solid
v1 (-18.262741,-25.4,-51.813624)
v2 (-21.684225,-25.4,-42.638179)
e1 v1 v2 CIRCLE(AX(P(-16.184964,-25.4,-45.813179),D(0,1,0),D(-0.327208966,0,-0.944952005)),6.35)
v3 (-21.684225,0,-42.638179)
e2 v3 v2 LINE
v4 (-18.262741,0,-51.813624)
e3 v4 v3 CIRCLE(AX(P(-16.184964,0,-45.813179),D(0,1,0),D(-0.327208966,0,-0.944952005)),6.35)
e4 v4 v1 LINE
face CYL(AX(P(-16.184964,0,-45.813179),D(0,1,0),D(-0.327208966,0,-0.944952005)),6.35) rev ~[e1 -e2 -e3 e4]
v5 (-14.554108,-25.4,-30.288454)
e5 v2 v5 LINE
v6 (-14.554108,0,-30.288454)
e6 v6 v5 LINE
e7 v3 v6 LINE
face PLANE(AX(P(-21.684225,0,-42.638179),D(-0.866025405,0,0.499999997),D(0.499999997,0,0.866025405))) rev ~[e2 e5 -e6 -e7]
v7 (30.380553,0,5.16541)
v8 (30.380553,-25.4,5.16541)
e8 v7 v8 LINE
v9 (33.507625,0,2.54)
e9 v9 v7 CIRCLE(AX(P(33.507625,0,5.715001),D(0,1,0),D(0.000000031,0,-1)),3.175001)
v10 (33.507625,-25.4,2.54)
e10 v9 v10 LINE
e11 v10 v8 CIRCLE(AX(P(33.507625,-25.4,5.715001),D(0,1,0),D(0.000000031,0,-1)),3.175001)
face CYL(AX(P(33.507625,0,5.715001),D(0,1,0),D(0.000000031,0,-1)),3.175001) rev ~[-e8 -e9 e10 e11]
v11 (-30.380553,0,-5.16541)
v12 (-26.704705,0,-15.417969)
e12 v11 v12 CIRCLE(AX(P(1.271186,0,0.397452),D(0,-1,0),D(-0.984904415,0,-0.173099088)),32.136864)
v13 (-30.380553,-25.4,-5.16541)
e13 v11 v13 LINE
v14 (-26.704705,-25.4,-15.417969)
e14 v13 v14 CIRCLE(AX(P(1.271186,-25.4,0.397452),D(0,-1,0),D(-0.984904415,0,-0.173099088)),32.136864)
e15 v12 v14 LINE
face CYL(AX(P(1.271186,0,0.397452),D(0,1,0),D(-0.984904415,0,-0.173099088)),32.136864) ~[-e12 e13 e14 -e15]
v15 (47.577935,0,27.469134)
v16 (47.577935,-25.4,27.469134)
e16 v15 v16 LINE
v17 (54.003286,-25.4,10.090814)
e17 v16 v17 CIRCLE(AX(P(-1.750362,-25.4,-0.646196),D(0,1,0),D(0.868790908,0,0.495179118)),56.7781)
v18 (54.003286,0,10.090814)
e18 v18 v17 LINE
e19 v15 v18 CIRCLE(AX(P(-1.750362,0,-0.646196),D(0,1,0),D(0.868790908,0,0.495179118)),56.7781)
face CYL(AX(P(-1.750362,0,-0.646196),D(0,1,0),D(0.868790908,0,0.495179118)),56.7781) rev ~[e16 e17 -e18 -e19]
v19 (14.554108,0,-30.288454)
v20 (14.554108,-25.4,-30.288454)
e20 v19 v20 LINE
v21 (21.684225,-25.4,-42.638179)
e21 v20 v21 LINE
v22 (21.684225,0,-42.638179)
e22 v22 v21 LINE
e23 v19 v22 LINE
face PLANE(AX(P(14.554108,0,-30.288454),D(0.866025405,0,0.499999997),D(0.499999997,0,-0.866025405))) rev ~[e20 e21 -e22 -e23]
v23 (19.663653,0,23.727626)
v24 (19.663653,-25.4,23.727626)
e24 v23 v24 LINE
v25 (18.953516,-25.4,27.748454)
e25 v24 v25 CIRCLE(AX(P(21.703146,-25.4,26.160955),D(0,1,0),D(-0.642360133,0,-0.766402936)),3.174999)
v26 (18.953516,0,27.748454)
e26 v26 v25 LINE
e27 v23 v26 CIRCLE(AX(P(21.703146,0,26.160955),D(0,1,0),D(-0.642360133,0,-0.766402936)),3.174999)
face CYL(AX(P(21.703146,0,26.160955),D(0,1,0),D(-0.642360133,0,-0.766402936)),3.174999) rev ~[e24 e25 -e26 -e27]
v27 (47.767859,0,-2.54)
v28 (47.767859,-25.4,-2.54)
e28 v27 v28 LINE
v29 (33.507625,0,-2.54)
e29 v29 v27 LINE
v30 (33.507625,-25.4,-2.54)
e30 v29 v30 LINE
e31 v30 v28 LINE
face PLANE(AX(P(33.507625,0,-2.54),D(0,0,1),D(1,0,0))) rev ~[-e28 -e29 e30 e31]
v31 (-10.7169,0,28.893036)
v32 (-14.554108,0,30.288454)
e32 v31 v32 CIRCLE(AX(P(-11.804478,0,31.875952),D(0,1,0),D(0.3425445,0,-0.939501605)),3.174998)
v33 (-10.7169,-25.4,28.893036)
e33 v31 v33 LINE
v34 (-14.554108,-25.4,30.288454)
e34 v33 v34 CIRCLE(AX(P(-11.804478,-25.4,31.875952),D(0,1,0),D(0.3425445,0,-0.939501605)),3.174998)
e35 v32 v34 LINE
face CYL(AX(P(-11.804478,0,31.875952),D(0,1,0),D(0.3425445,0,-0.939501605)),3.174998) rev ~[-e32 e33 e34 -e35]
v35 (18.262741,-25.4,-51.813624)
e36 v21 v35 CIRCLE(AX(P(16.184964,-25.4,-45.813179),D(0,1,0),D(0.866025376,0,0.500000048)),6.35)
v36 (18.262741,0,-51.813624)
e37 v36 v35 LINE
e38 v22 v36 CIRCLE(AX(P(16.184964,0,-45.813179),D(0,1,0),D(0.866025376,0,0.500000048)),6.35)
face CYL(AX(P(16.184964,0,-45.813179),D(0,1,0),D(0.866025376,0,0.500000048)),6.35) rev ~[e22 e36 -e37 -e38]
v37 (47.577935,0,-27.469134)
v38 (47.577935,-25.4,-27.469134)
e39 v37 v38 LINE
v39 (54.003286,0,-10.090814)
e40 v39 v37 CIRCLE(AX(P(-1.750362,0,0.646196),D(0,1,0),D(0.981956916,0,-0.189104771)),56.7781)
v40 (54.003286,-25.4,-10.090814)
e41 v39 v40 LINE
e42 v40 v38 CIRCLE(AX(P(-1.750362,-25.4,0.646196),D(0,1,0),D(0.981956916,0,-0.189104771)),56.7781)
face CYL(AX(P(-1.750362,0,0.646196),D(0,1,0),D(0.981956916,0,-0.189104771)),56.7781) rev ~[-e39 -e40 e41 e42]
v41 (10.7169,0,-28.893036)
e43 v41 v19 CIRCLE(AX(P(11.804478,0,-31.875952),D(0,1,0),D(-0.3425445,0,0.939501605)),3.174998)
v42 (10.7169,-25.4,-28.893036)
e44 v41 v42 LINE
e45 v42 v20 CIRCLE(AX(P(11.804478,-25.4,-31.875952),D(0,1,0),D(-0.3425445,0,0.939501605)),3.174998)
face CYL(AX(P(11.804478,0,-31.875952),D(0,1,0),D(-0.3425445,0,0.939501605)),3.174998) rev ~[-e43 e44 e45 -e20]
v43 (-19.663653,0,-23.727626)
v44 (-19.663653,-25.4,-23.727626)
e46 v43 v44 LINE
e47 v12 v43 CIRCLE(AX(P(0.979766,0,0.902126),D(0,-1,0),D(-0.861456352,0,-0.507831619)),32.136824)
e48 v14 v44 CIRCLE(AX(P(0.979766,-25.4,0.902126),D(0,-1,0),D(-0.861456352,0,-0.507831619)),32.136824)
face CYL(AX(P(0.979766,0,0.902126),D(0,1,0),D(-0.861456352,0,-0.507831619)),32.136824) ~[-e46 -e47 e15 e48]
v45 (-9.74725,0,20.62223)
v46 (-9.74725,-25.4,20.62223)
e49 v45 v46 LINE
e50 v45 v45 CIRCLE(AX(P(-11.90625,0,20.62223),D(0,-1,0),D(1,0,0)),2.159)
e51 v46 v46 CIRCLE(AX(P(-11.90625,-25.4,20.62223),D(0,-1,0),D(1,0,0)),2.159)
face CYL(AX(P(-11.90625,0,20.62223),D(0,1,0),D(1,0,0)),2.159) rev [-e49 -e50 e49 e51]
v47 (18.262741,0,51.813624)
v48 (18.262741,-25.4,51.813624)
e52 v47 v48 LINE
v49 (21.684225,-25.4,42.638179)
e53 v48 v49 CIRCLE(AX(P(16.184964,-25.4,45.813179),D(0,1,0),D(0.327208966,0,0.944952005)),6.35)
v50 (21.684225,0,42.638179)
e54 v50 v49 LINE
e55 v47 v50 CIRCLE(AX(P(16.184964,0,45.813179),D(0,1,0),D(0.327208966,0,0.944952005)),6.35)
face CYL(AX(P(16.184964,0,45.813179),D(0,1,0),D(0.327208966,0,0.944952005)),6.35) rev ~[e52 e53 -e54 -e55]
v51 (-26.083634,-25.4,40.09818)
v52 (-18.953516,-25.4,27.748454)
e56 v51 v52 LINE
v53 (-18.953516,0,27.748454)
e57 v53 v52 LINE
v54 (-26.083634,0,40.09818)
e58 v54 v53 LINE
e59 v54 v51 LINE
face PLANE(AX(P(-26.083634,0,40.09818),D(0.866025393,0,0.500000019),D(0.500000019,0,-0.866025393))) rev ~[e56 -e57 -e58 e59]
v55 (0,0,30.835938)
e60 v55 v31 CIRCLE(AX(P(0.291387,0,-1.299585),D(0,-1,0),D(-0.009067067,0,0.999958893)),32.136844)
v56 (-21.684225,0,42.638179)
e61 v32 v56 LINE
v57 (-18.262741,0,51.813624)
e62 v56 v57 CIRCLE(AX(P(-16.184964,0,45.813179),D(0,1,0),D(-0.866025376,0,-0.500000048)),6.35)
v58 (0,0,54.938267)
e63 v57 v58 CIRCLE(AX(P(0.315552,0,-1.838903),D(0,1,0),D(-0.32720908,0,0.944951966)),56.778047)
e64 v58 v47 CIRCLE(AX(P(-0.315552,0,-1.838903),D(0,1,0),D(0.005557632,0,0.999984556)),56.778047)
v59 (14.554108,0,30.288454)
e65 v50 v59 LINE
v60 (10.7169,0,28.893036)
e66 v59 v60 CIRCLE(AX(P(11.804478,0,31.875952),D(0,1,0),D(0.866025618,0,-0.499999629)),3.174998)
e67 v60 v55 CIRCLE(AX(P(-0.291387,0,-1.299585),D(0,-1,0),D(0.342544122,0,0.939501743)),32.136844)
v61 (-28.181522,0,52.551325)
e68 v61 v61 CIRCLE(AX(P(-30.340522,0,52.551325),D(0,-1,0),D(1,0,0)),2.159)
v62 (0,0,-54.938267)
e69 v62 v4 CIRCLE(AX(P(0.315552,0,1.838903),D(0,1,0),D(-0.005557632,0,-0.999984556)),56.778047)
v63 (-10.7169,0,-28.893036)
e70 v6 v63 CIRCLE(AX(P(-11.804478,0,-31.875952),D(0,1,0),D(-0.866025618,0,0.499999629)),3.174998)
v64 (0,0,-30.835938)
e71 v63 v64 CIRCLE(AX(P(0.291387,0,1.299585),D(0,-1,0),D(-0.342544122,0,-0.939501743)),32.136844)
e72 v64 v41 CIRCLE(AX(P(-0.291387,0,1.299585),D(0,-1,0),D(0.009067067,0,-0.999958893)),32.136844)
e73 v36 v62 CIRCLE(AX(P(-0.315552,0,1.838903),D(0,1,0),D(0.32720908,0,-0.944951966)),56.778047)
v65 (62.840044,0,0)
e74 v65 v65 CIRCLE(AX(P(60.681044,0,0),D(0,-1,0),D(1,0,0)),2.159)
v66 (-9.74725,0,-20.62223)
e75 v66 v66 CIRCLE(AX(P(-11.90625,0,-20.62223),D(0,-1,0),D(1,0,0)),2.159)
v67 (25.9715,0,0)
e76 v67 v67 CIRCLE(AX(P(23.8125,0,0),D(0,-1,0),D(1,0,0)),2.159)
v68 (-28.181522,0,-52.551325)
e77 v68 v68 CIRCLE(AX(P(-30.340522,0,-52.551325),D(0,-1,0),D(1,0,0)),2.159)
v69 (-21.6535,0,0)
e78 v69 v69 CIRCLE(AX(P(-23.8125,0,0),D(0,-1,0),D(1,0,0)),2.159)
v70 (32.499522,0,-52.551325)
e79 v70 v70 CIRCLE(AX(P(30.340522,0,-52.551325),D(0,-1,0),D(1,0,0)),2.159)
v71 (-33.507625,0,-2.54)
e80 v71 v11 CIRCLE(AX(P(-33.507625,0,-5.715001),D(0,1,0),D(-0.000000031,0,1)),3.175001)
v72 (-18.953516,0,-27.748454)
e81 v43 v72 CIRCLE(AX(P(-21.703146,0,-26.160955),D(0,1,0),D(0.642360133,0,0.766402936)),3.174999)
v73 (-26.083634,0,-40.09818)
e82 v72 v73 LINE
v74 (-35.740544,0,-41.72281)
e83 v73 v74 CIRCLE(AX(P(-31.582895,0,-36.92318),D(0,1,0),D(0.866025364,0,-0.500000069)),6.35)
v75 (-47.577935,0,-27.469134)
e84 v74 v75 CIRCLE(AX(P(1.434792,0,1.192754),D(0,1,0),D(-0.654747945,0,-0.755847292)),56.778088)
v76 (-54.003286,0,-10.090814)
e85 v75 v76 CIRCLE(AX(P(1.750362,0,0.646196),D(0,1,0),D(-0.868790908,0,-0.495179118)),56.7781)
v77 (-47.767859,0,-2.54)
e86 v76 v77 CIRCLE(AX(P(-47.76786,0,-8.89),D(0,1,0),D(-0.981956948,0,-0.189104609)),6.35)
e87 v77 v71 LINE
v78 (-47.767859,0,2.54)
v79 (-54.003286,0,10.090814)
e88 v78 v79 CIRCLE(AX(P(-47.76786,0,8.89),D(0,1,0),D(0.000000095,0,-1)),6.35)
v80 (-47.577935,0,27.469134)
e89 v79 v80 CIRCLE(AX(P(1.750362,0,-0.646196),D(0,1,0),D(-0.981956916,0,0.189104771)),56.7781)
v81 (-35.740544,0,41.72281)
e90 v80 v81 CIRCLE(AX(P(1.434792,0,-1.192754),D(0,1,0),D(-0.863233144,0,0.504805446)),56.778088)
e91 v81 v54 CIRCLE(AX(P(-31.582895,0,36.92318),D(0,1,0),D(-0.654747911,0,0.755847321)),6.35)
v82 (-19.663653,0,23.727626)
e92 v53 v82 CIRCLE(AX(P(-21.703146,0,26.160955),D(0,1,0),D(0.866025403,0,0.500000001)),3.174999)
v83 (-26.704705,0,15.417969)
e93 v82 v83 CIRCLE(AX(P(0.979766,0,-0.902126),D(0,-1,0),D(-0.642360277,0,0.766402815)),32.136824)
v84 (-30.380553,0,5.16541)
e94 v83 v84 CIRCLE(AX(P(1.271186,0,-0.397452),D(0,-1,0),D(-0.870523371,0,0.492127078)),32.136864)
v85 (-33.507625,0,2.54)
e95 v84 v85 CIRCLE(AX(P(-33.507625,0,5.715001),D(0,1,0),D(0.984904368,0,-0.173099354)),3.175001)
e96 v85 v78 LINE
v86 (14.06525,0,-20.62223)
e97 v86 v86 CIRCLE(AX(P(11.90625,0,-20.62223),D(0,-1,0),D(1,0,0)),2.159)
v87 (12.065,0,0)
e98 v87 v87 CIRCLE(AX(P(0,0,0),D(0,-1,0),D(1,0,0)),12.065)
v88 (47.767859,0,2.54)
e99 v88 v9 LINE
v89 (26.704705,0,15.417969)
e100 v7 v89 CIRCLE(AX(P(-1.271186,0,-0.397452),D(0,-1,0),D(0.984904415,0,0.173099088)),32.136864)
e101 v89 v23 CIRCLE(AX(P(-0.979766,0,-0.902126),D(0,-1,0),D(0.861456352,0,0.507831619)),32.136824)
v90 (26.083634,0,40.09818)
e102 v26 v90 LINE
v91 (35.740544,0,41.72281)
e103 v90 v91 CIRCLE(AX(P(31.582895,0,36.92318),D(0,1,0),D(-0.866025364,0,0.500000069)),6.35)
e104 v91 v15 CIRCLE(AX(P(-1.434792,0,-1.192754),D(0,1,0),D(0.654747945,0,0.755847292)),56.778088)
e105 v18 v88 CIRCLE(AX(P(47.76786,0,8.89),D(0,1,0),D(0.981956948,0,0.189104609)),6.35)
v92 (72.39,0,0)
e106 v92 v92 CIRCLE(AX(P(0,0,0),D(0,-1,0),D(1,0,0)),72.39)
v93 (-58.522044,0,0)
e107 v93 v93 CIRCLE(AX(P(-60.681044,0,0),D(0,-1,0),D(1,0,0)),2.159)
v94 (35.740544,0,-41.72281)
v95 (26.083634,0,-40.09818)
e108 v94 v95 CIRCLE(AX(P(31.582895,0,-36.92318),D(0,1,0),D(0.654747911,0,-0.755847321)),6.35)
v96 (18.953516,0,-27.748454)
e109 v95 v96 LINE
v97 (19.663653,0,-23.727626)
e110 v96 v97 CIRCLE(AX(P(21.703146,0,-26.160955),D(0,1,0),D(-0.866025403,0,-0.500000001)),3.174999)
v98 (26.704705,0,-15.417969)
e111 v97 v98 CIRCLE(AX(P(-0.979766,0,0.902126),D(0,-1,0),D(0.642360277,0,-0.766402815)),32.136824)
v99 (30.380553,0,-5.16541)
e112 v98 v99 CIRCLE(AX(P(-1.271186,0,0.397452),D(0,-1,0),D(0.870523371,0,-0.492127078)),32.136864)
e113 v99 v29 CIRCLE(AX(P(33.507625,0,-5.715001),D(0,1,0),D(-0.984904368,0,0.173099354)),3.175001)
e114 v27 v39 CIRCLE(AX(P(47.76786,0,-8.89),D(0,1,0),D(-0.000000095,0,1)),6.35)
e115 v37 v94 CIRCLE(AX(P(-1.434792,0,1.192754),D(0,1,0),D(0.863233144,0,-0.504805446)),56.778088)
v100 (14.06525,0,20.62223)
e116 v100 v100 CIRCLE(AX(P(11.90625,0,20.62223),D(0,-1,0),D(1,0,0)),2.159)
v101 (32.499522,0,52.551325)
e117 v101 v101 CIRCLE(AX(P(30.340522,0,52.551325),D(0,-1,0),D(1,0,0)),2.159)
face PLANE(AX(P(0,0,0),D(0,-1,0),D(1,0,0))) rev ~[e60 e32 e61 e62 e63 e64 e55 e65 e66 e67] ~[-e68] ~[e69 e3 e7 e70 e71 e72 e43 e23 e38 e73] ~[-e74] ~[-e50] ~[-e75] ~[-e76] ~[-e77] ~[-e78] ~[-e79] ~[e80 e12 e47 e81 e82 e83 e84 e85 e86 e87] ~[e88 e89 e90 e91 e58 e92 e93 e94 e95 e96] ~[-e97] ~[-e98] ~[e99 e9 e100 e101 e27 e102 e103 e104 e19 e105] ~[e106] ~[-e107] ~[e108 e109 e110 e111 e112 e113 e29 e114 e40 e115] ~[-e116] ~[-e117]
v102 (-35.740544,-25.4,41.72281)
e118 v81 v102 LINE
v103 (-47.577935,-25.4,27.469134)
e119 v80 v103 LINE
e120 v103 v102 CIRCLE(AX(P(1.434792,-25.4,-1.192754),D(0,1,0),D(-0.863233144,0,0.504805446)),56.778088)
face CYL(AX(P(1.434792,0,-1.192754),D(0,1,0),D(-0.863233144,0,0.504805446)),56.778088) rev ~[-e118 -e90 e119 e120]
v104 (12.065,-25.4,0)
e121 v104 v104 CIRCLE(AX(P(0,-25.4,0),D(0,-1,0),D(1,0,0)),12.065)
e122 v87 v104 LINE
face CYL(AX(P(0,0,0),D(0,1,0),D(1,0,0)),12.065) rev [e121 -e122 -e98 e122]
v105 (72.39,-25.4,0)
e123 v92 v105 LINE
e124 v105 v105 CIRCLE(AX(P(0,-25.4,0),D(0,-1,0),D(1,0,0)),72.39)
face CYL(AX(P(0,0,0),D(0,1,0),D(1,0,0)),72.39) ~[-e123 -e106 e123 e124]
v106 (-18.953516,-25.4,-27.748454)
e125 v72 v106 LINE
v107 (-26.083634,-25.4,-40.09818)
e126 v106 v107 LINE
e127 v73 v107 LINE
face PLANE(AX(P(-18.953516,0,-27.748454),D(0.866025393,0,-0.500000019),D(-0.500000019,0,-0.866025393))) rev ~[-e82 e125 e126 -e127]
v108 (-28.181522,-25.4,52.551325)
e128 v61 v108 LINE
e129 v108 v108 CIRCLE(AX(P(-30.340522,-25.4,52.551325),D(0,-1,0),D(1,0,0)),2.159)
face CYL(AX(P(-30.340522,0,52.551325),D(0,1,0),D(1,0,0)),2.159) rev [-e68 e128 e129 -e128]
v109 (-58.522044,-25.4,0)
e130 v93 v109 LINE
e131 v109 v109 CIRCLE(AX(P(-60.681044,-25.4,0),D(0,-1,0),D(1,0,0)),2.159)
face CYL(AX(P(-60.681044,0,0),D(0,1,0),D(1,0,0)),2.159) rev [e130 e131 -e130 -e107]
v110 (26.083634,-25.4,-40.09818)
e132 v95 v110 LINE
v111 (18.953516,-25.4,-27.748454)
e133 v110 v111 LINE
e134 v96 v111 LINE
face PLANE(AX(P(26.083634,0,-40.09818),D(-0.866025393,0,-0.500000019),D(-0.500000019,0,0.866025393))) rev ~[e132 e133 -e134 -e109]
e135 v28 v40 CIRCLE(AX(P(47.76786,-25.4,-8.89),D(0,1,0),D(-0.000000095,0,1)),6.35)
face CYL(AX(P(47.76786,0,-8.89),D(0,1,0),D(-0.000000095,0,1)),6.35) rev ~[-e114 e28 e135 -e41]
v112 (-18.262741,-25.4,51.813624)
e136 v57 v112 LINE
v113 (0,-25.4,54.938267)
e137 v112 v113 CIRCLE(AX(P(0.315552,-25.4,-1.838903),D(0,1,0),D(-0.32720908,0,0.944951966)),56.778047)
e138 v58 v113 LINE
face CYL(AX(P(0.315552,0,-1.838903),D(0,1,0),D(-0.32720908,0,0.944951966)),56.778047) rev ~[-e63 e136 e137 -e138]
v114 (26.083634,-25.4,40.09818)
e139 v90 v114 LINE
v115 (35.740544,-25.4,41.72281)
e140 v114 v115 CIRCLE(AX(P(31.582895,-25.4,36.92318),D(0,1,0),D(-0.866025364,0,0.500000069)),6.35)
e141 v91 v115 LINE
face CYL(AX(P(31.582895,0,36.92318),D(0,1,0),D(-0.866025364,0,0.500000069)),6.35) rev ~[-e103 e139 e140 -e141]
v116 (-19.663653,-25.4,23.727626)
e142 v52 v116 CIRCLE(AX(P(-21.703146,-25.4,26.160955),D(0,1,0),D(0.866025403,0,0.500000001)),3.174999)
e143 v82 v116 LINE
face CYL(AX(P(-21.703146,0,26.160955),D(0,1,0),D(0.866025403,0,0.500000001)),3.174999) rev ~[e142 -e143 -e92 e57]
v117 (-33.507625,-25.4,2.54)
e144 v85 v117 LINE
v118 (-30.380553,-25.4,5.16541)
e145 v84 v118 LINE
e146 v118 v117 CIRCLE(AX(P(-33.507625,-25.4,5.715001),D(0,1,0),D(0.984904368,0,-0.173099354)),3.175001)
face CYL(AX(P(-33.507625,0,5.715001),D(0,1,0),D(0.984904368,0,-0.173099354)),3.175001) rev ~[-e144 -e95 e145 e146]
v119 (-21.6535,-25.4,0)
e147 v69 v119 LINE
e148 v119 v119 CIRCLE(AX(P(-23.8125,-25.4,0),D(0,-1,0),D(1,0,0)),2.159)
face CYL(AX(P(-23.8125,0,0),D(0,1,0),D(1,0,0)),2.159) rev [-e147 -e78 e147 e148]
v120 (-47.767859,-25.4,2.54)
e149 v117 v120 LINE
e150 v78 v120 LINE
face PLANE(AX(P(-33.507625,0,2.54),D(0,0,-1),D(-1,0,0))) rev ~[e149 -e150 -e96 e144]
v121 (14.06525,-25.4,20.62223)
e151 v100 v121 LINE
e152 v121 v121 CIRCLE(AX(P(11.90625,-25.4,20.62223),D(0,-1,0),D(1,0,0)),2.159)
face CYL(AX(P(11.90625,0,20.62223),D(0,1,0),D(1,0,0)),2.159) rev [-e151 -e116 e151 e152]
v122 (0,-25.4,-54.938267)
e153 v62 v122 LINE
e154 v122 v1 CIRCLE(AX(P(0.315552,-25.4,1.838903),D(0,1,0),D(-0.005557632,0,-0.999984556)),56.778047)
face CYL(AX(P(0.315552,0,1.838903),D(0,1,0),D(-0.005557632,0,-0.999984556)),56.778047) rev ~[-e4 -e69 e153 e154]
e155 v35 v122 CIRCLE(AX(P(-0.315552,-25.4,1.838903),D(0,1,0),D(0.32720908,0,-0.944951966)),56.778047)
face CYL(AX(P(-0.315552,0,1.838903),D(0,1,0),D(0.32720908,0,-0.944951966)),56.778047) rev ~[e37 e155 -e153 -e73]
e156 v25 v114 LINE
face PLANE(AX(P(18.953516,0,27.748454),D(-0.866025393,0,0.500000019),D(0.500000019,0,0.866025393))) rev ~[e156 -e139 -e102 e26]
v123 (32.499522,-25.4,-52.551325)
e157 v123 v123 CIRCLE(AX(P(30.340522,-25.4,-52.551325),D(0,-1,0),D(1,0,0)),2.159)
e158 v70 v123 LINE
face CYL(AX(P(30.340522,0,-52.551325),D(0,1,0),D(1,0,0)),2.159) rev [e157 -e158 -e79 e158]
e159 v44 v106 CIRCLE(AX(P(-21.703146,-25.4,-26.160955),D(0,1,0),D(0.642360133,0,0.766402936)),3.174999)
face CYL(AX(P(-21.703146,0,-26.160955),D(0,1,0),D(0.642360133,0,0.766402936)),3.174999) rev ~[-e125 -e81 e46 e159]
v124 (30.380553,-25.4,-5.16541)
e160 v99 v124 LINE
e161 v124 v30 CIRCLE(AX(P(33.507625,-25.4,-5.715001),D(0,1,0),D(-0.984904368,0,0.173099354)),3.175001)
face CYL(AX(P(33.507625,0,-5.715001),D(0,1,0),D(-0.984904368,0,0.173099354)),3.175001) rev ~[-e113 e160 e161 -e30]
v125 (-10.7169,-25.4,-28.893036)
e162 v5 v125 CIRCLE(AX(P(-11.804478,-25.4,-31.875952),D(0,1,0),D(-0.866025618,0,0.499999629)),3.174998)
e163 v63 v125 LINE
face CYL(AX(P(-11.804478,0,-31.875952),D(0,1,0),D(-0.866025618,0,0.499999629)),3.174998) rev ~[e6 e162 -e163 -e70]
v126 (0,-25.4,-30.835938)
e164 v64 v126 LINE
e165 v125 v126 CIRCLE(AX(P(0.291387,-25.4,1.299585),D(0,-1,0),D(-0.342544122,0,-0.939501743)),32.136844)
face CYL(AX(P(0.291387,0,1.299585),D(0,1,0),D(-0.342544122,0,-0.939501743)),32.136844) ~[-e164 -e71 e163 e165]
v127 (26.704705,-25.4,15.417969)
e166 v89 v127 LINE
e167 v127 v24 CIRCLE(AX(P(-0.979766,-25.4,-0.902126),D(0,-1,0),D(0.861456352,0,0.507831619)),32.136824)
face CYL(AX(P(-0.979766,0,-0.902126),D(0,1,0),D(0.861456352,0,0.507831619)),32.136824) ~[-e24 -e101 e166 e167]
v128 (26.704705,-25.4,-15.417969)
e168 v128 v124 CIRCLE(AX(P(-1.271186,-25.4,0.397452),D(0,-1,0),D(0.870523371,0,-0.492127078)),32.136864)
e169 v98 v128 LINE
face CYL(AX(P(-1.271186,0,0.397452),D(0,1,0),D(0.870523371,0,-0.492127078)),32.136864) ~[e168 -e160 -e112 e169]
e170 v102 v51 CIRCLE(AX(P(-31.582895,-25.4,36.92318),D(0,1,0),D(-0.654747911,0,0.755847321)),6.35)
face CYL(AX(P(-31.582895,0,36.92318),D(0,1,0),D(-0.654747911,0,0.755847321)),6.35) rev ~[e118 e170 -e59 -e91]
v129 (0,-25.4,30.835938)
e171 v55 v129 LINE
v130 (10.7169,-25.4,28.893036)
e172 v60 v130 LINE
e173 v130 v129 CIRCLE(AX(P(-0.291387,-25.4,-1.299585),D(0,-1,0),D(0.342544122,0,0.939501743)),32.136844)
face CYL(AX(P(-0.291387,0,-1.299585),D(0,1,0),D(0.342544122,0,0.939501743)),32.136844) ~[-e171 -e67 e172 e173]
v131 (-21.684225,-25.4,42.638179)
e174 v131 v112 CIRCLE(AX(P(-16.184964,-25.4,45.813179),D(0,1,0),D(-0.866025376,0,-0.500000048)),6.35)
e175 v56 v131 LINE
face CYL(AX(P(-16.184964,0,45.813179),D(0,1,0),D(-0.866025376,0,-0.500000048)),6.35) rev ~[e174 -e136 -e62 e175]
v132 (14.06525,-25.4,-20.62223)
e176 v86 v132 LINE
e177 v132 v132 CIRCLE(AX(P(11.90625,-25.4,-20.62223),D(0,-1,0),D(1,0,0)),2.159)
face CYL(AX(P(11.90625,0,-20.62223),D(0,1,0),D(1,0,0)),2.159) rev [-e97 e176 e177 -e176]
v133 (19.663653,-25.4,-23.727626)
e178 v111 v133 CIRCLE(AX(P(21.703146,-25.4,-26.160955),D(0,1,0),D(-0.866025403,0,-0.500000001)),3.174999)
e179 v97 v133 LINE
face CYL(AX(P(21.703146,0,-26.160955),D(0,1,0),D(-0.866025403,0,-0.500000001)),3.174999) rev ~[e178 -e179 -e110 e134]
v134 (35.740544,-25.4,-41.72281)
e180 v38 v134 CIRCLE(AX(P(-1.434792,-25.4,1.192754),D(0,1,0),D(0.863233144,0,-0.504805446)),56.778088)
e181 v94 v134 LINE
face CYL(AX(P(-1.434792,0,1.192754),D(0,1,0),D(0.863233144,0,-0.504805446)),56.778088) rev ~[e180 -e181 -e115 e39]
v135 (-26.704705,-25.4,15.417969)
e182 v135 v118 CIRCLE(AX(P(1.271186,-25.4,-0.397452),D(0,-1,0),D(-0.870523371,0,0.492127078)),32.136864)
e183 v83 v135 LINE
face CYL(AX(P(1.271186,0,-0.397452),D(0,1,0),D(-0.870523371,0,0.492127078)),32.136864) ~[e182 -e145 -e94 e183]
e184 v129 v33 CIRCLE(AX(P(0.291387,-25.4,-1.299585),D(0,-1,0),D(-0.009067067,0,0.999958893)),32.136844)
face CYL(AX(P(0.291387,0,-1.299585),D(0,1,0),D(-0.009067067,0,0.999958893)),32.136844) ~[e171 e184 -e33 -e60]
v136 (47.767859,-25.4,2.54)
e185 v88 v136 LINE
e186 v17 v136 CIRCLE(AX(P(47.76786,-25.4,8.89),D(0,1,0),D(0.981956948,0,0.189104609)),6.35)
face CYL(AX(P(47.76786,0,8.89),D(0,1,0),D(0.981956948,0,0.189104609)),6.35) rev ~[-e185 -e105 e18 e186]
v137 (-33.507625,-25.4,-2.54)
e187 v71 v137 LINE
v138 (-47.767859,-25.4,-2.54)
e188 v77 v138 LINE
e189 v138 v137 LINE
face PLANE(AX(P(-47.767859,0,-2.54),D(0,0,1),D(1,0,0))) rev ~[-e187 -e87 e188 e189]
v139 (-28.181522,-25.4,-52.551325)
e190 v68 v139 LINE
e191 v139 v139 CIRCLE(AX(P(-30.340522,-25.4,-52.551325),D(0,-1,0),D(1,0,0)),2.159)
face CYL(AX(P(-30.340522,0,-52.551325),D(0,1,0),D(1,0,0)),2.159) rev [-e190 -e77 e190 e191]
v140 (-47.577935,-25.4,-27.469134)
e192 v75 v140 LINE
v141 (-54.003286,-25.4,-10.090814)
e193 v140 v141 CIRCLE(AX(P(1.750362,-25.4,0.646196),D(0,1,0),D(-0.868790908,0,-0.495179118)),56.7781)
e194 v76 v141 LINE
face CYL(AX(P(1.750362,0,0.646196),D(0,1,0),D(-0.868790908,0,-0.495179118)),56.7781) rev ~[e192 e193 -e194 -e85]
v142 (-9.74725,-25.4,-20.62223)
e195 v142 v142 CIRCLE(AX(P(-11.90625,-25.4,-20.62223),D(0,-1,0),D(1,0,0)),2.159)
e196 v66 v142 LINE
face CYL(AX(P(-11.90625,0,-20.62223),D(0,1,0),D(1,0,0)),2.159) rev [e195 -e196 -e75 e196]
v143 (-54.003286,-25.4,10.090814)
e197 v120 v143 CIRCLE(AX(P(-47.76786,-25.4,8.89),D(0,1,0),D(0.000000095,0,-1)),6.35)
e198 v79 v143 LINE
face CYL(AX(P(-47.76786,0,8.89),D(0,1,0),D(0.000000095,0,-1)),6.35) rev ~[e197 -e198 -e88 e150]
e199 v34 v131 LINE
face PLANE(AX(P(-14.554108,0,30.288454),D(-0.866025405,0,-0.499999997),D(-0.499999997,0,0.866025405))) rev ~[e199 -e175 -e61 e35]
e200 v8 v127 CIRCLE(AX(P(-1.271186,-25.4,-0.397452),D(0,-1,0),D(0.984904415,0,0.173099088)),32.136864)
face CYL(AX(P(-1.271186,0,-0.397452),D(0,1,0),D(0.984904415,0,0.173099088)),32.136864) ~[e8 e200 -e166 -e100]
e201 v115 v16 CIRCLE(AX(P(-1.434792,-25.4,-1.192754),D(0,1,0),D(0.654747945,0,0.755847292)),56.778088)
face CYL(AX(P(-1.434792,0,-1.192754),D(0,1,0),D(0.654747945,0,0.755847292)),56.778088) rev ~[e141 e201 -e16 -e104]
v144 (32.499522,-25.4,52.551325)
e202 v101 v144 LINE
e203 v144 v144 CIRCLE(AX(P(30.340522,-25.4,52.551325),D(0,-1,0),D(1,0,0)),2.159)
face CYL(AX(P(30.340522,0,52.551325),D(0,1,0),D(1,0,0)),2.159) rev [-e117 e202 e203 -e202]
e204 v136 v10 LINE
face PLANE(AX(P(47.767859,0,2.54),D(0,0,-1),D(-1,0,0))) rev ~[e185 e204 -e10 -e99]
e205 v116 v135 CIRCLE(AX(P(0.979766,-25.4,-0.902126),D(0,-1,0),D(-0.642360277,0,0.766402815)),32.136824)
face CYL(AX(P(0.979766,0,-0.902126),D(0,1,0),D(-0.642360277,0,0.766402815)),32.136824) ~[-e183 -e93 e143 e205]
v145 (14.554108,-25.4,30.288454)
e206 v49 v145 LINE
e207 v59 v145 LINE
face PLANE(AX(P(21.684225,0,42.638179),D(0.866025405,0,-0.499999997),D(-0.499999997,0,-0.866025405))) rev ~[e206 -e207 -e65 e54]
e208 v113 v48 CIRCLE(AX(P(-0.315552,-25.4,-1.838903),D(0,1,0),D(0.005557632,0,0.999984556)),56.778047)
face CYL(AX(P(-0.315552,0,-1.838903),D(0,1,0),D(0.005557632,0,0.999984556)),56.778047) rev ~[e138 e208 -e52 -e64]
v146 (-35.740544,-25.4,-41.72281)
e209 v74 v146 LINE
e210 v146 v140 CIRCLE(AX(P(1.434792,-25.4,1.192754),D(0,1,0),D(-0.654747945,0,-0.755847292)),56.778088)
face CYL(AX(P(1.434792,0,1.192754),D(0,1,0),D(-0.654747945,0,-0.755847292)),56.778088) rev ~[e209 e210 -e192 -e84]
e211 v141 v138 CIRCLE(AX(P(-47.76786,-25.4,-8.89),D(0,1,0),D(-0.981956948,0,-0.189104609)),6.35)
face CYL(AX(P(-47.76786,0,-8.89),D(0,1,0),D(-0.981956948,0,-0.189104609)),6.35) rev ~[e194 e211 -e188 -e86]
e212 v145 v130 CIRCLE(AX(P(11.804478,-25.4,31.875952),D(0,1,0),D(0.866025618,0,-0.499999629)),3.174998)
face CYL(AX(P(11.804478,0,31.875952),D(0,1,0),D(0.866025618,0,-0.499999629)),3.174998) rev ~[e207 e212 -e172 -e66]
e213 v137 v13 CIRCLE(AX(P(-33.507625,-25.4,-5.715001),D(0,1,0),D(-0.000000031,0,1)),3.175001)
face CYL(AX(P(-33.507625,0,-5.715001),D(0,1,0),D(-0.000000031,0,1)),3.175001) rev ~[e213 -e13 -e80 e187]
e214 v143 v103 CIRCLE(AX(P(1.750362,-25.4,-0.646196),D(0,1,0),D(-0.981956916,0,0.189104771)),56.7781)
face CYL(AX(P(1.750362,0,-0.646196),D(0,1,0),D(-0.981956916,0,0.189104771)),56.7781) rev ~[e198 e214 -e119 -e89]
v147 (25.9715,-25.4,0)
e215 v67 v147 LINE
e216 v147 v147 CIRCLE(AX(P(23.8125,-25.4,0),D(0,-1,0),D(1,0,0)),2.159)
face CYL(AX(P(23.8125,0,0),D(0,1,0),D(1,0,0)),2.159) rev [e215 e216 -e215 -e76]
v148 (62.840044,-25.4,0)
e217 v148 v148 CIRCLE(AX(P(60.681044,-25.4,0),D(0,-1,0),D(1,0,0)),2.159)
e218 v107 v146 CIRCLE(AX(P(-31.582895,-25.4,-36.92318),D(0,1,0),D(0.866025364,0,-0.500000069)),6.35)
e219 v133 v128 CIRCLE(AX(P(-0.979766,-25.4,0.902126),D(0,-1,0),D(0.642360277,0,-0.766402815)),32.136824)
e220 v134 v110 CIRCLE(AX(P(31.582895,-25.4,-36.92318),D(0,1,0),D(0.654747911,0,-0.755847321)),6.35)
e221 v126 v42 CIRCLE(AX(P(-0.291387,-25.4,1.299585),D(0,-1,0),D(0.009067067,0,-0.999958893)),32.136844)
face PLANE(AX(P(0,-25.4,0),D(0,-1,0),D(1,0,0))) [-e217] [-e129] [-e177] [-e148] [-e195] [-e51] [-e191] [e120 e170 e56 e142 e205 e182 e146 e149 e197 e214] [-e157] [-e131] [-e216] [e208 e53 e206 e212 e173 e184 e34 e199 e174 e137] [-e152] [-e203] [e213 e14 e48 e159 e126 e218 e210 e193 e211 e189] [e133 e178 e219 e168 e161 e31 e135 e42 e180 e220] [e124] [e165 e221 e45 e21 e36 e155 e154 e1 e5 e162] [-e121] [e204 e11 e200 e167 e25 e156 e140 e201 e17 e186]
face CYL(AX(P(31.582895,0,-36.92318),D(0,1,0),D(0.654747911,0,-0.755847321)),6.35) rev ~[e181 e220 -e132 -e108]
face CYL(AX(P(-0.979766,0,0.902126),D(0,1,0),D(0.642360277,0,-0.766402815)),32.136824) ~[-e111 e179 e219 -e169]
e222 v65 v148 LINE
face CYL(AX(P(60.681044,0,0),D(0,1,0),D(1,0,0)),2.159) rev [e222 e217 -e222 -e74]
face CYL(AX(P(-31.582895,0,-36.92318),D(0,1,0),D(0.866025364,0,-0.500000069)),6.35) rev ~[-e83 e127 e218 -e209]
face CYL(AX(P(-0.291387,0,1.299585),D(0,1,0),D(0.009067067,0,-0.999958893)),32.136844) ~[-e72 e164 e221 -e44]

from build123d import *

# Parameters (mm, degrees)
F0_R     = 72.39
F0_R_2   = 2.159
F0_R_3   = 12.065
F1_DEPTH = 25.4


with BuildPart() as f1:
    # F0 (on Front) → F1 (new body)
    with BuildSketch(Plane.XZ):
        Circle(F0_R)
        with Locations((-30.340522, -52.551325)):
            Circle(F0_R_2, mode=Mode.SUBTRACT)
        with BuildLine():
            ThreePointArc((0, -54.938267), (-9.259687, -54.12592), (-18.262741, -51.813624))
            ThreePointArc((-18.262741, -51.813624), (-22.13476, -48.031833), (-21.684225, -42.638179))
            Line((-21.684225, -42.638179), (-14.554108, -30.288454))
            ThreePointArc((-14.554108, -30.288454), (-12.88956, -28.892127), (-10.7169, -28.893036))
            ThreePointArc((-10.7169, -28.893036), (-5.441359, -30.321806), (0, -30.835938))
            ThreePointArc((0, -30.835938), (5.441359, -30.321806), (10.7169, -28.893036))
            ThreePointArc((10.7169, -28.893036), (12.88956, -28.892127), (14.554108, -30.288454))
            Line((14.554108, -30.288454), (21.684225, -42.638179))
            ThreePointArc((21.684225, -42.638179), (22.13476, -48.031833), (18.262741, -51.813624))
            ThreePointArc((18.262741, -51.813624), (9.259687, -54.12592), (0, -54.938267))
        make_face(mode=Mode.SUBTRACT)
        with BuildLine():
            ThreePointArc((-47.577935, -27.469134), (-51.504265, -19.043836), (-54.003286, -10.090814))
            ThreePointArc((-54.003286, -10.090814), (-52.664168, -4.846652), (-47.767859, -2.54))
            Line((-47.767859, -2.54), (-33.507625, -2.54))
            ThreePointArc((-33.507625, -2.54), (-31.466096, -3.283378), (-30.380553, -5.16541))
            ThreePointArc((-30.380553, -5.16541), (-28.980133, -10.448548), (-26.704705, -15.417969))
            ThreePointArc((-26.704705, -15.417969), (-23.538775, -19.873258), (-19.663653, -23.727626))
            ThreePointArc((-19.663653, -23.727626), (-18.576536, -25.60875), (-18.953516, -27.748454))
            Line((-18.953516, -27.748454), (-26.083634, -40.09818))
            ThreePointArc((-26.083634, -40.09818), (-30.529407, -43.185181), (-35.740544, -41.72281))
            ThreePointArc((-35.740544, -41.72281), (-42.244578, -35.082084), (-47.577935, -27.469134))
        make_face(mode=Mode.SUBTRACT)
        with Locations((-11.90625, -20.62223)):
            Circle(F0_R_2, mode=Mode.SUBTRACT)
        with Locations((30.340522, -52.551325)):
            Circle(F0_R_2, mode=Mode.SUBTRACT)
        with Locations((11.90625, -20.62223)):
            Circle(F0_R_2, mode=Mode.SUBTRACT)
        with BuildLine():
            ThreePointArc((47.577935, -27.469134), (42.244578, -35.082084), (35.740544, -41.72281))
            ThreePointArc((35.740544, -41.72281), (30.529407, -43.185181), (26.083634, -40.09818))
            Line((26.083634, -40.09818), (18.953516, -27.748454))
            ThreePointArc((18.953516, -27.748454), (18.576536, -25.60875), (19.663653, -23.727626))
            ThreePointArc((19.663653, -23.727626), (23.538775, -19.873258), (26.704705, -15.417969))
            ThreePointArc((26.704705, -15.417969), (28.980133, -10.448548), (30.380553, -5.16541))
            ThreePointArc((30.380553, -5.16541), (31.466096, -3.283378), (33.507625, -2.54))
            Line((33.507625, -2.54), (47.767859, -2.54))
            ThreePointArc((47.767859, -2.54), (52.664168, -4.846652), (54.003286, -10.090814))
            ThreePointArc((54.003286, -10.090814), (51.504265, -19.043836), (47.577935, -27.469134))
        make_face(mode=Mode.SUBTRACT)
        with Locations((-60.681044, 0)):
            Circle(F0_R_2, mode=Mode.SUBTRACT)
        with BuildLine():
            ThreePointArc((-47.577935, 27.469134), (-42.244578, 35.082084), (-35.740544, 41.72281))
            ThreePointArc((-35.740544, 41.72281), (-30.529407, 43.185181), (-26.083634, 40.09818))
            Line((-26.083634, 40.09818), (-18.953516, 27.748454))
            ThreePointArc((-18.953516, 27.748454), (-18.576536, 25.60875), (-19.663653, 23.727626))
            ThreePointArc((-19.663653, 23.727626), (-23.538775, 19.873258), (-26.704705, 15.417969))
            ThreePointArc((-26.704705, 15.417969), (-28.980133, 10.448548), (-30.380553, 5.16541))
            ThreePointArc((-30.380553, 5.16541), (-31.466096, 3.283378), (-33.507625, 2.54))
            Line((-33.507625, 2.54), (-47.767859, 2.54))
            ThreePointArc((-47.767859, 2.54), (-52.664168, 4.846652), (-54.003286, 10.090814))
            ThreePointArc((-54.003286, 10.090814), (-51.504265, 19.043836), (-47.577935, 27.469134))
        make_face(mode=Mode.SUBTRACT)
        with Locations((-23.8125, 0)):
            Circle(F0_R_2, mode=Mode.SUBTRACT)
        with Locations((-11.90625, 20.62223)):
            Circle(F0_R_2, mode=Mode.SUBTRACT)
        with Locations((-30.340522, 52.551325)):
            Circle(F0_R_2, mode=Mode.SUBTRACT)
        Circle(F0_R_3, mode=Mode.SUBTRACT)
        with Locations((23.8125, 0)):
            Circle(F0_R_2, mode=Mode.SUBTRACT)
        with Locations((11.90625, 20.62223)):
            Circle(F0_R_2, mode=Mode.SUBTRACT)
        with Locations((60.681044, 0)):
            Circle(F0_R_2, mode=Mode.SUBTRACT)
        with BuildLine():
            ThreePointArc((47.577935, 27.469134), (51.504265, 19.043836), (54.003286, 10.090814))
            ThreePointArc((54.003286, 10.090814), (52.664168, 4.846652), (47.767859, 2.54))
            Line((47.767859, 2.54), (33.507625, 2.54))
            ThreePointArc((33.507625, 2.54), (31.466096, 3.283378), (30.380553, 5.16541))
            ThreePointArc((30.380553, 5.16541), (28.980133, 10.448548), (26.704705, 15.417969))
            ThreePointArc((26.704705, 15.417969), (23.538775, 19.873258), (19.663653, 23.727626))
            ThreePointArc((19.663653, 23.727626), (18.576536, 25.60875), (18.953516, 27.748454))
            Line((18.953516, 27.748454), (26.083634, 40.09818))
            ThreePointArc((26.083634, 40.09818), (30.529407, 43.185181), (35.740544, 41.72281))
            ThreePointArc((35.740544, 41.72281), (42.244578, 35.082084), (47.577935, 27.469134))
        make_face(mode=Mode.SUBTRACT)
        with BuildLine():
            ThreePointArc((14.554108, 30.288454), (12.88956, 28.892127), (10.7169, 28.893036))
            ThreePointArc((10.7169, 28.893036), (5.441359, 30.321806), (0, 30.835938))
            ThreePointArc((0, 30.835938), (-5.441359, 30.321806), (-10.7169, 28.893036))
            ThreePointArc((-10.7169, 28.893036), (-12.88956, 28.892127), (-14.554108, 30.288454))
            Line((-14.554108, 30.288454), (-21.684225, 42.638179))
            ThreePointArc((-21.684225, 42.638179), (-22.13476, 48.031833), (-18.262741, 51.813624))
            ThreePointArc((-18.262741, 51.813624), (-9.259687, 54.12592), (0, 54.938267))
            ThreePointArc((0, 54.938267), (9.259687, 54.12592), (18.262741, 51.813624))
            ThreePointArc((18.262741, 51.813624), (22.13476, 48.031833), (21.684225, 42.638179))
            Line((21.684225, 42.638179), (14.554108, 30.288454))
        make_face(mode=Mode.SUBTRACT)
        with Locations((30.340522, 52.551325)):
            Circle(F0_R_2, mode=Mode.SUBTRACT)
    extrude(amount=F1_DEPTH)


solid = f1.part
